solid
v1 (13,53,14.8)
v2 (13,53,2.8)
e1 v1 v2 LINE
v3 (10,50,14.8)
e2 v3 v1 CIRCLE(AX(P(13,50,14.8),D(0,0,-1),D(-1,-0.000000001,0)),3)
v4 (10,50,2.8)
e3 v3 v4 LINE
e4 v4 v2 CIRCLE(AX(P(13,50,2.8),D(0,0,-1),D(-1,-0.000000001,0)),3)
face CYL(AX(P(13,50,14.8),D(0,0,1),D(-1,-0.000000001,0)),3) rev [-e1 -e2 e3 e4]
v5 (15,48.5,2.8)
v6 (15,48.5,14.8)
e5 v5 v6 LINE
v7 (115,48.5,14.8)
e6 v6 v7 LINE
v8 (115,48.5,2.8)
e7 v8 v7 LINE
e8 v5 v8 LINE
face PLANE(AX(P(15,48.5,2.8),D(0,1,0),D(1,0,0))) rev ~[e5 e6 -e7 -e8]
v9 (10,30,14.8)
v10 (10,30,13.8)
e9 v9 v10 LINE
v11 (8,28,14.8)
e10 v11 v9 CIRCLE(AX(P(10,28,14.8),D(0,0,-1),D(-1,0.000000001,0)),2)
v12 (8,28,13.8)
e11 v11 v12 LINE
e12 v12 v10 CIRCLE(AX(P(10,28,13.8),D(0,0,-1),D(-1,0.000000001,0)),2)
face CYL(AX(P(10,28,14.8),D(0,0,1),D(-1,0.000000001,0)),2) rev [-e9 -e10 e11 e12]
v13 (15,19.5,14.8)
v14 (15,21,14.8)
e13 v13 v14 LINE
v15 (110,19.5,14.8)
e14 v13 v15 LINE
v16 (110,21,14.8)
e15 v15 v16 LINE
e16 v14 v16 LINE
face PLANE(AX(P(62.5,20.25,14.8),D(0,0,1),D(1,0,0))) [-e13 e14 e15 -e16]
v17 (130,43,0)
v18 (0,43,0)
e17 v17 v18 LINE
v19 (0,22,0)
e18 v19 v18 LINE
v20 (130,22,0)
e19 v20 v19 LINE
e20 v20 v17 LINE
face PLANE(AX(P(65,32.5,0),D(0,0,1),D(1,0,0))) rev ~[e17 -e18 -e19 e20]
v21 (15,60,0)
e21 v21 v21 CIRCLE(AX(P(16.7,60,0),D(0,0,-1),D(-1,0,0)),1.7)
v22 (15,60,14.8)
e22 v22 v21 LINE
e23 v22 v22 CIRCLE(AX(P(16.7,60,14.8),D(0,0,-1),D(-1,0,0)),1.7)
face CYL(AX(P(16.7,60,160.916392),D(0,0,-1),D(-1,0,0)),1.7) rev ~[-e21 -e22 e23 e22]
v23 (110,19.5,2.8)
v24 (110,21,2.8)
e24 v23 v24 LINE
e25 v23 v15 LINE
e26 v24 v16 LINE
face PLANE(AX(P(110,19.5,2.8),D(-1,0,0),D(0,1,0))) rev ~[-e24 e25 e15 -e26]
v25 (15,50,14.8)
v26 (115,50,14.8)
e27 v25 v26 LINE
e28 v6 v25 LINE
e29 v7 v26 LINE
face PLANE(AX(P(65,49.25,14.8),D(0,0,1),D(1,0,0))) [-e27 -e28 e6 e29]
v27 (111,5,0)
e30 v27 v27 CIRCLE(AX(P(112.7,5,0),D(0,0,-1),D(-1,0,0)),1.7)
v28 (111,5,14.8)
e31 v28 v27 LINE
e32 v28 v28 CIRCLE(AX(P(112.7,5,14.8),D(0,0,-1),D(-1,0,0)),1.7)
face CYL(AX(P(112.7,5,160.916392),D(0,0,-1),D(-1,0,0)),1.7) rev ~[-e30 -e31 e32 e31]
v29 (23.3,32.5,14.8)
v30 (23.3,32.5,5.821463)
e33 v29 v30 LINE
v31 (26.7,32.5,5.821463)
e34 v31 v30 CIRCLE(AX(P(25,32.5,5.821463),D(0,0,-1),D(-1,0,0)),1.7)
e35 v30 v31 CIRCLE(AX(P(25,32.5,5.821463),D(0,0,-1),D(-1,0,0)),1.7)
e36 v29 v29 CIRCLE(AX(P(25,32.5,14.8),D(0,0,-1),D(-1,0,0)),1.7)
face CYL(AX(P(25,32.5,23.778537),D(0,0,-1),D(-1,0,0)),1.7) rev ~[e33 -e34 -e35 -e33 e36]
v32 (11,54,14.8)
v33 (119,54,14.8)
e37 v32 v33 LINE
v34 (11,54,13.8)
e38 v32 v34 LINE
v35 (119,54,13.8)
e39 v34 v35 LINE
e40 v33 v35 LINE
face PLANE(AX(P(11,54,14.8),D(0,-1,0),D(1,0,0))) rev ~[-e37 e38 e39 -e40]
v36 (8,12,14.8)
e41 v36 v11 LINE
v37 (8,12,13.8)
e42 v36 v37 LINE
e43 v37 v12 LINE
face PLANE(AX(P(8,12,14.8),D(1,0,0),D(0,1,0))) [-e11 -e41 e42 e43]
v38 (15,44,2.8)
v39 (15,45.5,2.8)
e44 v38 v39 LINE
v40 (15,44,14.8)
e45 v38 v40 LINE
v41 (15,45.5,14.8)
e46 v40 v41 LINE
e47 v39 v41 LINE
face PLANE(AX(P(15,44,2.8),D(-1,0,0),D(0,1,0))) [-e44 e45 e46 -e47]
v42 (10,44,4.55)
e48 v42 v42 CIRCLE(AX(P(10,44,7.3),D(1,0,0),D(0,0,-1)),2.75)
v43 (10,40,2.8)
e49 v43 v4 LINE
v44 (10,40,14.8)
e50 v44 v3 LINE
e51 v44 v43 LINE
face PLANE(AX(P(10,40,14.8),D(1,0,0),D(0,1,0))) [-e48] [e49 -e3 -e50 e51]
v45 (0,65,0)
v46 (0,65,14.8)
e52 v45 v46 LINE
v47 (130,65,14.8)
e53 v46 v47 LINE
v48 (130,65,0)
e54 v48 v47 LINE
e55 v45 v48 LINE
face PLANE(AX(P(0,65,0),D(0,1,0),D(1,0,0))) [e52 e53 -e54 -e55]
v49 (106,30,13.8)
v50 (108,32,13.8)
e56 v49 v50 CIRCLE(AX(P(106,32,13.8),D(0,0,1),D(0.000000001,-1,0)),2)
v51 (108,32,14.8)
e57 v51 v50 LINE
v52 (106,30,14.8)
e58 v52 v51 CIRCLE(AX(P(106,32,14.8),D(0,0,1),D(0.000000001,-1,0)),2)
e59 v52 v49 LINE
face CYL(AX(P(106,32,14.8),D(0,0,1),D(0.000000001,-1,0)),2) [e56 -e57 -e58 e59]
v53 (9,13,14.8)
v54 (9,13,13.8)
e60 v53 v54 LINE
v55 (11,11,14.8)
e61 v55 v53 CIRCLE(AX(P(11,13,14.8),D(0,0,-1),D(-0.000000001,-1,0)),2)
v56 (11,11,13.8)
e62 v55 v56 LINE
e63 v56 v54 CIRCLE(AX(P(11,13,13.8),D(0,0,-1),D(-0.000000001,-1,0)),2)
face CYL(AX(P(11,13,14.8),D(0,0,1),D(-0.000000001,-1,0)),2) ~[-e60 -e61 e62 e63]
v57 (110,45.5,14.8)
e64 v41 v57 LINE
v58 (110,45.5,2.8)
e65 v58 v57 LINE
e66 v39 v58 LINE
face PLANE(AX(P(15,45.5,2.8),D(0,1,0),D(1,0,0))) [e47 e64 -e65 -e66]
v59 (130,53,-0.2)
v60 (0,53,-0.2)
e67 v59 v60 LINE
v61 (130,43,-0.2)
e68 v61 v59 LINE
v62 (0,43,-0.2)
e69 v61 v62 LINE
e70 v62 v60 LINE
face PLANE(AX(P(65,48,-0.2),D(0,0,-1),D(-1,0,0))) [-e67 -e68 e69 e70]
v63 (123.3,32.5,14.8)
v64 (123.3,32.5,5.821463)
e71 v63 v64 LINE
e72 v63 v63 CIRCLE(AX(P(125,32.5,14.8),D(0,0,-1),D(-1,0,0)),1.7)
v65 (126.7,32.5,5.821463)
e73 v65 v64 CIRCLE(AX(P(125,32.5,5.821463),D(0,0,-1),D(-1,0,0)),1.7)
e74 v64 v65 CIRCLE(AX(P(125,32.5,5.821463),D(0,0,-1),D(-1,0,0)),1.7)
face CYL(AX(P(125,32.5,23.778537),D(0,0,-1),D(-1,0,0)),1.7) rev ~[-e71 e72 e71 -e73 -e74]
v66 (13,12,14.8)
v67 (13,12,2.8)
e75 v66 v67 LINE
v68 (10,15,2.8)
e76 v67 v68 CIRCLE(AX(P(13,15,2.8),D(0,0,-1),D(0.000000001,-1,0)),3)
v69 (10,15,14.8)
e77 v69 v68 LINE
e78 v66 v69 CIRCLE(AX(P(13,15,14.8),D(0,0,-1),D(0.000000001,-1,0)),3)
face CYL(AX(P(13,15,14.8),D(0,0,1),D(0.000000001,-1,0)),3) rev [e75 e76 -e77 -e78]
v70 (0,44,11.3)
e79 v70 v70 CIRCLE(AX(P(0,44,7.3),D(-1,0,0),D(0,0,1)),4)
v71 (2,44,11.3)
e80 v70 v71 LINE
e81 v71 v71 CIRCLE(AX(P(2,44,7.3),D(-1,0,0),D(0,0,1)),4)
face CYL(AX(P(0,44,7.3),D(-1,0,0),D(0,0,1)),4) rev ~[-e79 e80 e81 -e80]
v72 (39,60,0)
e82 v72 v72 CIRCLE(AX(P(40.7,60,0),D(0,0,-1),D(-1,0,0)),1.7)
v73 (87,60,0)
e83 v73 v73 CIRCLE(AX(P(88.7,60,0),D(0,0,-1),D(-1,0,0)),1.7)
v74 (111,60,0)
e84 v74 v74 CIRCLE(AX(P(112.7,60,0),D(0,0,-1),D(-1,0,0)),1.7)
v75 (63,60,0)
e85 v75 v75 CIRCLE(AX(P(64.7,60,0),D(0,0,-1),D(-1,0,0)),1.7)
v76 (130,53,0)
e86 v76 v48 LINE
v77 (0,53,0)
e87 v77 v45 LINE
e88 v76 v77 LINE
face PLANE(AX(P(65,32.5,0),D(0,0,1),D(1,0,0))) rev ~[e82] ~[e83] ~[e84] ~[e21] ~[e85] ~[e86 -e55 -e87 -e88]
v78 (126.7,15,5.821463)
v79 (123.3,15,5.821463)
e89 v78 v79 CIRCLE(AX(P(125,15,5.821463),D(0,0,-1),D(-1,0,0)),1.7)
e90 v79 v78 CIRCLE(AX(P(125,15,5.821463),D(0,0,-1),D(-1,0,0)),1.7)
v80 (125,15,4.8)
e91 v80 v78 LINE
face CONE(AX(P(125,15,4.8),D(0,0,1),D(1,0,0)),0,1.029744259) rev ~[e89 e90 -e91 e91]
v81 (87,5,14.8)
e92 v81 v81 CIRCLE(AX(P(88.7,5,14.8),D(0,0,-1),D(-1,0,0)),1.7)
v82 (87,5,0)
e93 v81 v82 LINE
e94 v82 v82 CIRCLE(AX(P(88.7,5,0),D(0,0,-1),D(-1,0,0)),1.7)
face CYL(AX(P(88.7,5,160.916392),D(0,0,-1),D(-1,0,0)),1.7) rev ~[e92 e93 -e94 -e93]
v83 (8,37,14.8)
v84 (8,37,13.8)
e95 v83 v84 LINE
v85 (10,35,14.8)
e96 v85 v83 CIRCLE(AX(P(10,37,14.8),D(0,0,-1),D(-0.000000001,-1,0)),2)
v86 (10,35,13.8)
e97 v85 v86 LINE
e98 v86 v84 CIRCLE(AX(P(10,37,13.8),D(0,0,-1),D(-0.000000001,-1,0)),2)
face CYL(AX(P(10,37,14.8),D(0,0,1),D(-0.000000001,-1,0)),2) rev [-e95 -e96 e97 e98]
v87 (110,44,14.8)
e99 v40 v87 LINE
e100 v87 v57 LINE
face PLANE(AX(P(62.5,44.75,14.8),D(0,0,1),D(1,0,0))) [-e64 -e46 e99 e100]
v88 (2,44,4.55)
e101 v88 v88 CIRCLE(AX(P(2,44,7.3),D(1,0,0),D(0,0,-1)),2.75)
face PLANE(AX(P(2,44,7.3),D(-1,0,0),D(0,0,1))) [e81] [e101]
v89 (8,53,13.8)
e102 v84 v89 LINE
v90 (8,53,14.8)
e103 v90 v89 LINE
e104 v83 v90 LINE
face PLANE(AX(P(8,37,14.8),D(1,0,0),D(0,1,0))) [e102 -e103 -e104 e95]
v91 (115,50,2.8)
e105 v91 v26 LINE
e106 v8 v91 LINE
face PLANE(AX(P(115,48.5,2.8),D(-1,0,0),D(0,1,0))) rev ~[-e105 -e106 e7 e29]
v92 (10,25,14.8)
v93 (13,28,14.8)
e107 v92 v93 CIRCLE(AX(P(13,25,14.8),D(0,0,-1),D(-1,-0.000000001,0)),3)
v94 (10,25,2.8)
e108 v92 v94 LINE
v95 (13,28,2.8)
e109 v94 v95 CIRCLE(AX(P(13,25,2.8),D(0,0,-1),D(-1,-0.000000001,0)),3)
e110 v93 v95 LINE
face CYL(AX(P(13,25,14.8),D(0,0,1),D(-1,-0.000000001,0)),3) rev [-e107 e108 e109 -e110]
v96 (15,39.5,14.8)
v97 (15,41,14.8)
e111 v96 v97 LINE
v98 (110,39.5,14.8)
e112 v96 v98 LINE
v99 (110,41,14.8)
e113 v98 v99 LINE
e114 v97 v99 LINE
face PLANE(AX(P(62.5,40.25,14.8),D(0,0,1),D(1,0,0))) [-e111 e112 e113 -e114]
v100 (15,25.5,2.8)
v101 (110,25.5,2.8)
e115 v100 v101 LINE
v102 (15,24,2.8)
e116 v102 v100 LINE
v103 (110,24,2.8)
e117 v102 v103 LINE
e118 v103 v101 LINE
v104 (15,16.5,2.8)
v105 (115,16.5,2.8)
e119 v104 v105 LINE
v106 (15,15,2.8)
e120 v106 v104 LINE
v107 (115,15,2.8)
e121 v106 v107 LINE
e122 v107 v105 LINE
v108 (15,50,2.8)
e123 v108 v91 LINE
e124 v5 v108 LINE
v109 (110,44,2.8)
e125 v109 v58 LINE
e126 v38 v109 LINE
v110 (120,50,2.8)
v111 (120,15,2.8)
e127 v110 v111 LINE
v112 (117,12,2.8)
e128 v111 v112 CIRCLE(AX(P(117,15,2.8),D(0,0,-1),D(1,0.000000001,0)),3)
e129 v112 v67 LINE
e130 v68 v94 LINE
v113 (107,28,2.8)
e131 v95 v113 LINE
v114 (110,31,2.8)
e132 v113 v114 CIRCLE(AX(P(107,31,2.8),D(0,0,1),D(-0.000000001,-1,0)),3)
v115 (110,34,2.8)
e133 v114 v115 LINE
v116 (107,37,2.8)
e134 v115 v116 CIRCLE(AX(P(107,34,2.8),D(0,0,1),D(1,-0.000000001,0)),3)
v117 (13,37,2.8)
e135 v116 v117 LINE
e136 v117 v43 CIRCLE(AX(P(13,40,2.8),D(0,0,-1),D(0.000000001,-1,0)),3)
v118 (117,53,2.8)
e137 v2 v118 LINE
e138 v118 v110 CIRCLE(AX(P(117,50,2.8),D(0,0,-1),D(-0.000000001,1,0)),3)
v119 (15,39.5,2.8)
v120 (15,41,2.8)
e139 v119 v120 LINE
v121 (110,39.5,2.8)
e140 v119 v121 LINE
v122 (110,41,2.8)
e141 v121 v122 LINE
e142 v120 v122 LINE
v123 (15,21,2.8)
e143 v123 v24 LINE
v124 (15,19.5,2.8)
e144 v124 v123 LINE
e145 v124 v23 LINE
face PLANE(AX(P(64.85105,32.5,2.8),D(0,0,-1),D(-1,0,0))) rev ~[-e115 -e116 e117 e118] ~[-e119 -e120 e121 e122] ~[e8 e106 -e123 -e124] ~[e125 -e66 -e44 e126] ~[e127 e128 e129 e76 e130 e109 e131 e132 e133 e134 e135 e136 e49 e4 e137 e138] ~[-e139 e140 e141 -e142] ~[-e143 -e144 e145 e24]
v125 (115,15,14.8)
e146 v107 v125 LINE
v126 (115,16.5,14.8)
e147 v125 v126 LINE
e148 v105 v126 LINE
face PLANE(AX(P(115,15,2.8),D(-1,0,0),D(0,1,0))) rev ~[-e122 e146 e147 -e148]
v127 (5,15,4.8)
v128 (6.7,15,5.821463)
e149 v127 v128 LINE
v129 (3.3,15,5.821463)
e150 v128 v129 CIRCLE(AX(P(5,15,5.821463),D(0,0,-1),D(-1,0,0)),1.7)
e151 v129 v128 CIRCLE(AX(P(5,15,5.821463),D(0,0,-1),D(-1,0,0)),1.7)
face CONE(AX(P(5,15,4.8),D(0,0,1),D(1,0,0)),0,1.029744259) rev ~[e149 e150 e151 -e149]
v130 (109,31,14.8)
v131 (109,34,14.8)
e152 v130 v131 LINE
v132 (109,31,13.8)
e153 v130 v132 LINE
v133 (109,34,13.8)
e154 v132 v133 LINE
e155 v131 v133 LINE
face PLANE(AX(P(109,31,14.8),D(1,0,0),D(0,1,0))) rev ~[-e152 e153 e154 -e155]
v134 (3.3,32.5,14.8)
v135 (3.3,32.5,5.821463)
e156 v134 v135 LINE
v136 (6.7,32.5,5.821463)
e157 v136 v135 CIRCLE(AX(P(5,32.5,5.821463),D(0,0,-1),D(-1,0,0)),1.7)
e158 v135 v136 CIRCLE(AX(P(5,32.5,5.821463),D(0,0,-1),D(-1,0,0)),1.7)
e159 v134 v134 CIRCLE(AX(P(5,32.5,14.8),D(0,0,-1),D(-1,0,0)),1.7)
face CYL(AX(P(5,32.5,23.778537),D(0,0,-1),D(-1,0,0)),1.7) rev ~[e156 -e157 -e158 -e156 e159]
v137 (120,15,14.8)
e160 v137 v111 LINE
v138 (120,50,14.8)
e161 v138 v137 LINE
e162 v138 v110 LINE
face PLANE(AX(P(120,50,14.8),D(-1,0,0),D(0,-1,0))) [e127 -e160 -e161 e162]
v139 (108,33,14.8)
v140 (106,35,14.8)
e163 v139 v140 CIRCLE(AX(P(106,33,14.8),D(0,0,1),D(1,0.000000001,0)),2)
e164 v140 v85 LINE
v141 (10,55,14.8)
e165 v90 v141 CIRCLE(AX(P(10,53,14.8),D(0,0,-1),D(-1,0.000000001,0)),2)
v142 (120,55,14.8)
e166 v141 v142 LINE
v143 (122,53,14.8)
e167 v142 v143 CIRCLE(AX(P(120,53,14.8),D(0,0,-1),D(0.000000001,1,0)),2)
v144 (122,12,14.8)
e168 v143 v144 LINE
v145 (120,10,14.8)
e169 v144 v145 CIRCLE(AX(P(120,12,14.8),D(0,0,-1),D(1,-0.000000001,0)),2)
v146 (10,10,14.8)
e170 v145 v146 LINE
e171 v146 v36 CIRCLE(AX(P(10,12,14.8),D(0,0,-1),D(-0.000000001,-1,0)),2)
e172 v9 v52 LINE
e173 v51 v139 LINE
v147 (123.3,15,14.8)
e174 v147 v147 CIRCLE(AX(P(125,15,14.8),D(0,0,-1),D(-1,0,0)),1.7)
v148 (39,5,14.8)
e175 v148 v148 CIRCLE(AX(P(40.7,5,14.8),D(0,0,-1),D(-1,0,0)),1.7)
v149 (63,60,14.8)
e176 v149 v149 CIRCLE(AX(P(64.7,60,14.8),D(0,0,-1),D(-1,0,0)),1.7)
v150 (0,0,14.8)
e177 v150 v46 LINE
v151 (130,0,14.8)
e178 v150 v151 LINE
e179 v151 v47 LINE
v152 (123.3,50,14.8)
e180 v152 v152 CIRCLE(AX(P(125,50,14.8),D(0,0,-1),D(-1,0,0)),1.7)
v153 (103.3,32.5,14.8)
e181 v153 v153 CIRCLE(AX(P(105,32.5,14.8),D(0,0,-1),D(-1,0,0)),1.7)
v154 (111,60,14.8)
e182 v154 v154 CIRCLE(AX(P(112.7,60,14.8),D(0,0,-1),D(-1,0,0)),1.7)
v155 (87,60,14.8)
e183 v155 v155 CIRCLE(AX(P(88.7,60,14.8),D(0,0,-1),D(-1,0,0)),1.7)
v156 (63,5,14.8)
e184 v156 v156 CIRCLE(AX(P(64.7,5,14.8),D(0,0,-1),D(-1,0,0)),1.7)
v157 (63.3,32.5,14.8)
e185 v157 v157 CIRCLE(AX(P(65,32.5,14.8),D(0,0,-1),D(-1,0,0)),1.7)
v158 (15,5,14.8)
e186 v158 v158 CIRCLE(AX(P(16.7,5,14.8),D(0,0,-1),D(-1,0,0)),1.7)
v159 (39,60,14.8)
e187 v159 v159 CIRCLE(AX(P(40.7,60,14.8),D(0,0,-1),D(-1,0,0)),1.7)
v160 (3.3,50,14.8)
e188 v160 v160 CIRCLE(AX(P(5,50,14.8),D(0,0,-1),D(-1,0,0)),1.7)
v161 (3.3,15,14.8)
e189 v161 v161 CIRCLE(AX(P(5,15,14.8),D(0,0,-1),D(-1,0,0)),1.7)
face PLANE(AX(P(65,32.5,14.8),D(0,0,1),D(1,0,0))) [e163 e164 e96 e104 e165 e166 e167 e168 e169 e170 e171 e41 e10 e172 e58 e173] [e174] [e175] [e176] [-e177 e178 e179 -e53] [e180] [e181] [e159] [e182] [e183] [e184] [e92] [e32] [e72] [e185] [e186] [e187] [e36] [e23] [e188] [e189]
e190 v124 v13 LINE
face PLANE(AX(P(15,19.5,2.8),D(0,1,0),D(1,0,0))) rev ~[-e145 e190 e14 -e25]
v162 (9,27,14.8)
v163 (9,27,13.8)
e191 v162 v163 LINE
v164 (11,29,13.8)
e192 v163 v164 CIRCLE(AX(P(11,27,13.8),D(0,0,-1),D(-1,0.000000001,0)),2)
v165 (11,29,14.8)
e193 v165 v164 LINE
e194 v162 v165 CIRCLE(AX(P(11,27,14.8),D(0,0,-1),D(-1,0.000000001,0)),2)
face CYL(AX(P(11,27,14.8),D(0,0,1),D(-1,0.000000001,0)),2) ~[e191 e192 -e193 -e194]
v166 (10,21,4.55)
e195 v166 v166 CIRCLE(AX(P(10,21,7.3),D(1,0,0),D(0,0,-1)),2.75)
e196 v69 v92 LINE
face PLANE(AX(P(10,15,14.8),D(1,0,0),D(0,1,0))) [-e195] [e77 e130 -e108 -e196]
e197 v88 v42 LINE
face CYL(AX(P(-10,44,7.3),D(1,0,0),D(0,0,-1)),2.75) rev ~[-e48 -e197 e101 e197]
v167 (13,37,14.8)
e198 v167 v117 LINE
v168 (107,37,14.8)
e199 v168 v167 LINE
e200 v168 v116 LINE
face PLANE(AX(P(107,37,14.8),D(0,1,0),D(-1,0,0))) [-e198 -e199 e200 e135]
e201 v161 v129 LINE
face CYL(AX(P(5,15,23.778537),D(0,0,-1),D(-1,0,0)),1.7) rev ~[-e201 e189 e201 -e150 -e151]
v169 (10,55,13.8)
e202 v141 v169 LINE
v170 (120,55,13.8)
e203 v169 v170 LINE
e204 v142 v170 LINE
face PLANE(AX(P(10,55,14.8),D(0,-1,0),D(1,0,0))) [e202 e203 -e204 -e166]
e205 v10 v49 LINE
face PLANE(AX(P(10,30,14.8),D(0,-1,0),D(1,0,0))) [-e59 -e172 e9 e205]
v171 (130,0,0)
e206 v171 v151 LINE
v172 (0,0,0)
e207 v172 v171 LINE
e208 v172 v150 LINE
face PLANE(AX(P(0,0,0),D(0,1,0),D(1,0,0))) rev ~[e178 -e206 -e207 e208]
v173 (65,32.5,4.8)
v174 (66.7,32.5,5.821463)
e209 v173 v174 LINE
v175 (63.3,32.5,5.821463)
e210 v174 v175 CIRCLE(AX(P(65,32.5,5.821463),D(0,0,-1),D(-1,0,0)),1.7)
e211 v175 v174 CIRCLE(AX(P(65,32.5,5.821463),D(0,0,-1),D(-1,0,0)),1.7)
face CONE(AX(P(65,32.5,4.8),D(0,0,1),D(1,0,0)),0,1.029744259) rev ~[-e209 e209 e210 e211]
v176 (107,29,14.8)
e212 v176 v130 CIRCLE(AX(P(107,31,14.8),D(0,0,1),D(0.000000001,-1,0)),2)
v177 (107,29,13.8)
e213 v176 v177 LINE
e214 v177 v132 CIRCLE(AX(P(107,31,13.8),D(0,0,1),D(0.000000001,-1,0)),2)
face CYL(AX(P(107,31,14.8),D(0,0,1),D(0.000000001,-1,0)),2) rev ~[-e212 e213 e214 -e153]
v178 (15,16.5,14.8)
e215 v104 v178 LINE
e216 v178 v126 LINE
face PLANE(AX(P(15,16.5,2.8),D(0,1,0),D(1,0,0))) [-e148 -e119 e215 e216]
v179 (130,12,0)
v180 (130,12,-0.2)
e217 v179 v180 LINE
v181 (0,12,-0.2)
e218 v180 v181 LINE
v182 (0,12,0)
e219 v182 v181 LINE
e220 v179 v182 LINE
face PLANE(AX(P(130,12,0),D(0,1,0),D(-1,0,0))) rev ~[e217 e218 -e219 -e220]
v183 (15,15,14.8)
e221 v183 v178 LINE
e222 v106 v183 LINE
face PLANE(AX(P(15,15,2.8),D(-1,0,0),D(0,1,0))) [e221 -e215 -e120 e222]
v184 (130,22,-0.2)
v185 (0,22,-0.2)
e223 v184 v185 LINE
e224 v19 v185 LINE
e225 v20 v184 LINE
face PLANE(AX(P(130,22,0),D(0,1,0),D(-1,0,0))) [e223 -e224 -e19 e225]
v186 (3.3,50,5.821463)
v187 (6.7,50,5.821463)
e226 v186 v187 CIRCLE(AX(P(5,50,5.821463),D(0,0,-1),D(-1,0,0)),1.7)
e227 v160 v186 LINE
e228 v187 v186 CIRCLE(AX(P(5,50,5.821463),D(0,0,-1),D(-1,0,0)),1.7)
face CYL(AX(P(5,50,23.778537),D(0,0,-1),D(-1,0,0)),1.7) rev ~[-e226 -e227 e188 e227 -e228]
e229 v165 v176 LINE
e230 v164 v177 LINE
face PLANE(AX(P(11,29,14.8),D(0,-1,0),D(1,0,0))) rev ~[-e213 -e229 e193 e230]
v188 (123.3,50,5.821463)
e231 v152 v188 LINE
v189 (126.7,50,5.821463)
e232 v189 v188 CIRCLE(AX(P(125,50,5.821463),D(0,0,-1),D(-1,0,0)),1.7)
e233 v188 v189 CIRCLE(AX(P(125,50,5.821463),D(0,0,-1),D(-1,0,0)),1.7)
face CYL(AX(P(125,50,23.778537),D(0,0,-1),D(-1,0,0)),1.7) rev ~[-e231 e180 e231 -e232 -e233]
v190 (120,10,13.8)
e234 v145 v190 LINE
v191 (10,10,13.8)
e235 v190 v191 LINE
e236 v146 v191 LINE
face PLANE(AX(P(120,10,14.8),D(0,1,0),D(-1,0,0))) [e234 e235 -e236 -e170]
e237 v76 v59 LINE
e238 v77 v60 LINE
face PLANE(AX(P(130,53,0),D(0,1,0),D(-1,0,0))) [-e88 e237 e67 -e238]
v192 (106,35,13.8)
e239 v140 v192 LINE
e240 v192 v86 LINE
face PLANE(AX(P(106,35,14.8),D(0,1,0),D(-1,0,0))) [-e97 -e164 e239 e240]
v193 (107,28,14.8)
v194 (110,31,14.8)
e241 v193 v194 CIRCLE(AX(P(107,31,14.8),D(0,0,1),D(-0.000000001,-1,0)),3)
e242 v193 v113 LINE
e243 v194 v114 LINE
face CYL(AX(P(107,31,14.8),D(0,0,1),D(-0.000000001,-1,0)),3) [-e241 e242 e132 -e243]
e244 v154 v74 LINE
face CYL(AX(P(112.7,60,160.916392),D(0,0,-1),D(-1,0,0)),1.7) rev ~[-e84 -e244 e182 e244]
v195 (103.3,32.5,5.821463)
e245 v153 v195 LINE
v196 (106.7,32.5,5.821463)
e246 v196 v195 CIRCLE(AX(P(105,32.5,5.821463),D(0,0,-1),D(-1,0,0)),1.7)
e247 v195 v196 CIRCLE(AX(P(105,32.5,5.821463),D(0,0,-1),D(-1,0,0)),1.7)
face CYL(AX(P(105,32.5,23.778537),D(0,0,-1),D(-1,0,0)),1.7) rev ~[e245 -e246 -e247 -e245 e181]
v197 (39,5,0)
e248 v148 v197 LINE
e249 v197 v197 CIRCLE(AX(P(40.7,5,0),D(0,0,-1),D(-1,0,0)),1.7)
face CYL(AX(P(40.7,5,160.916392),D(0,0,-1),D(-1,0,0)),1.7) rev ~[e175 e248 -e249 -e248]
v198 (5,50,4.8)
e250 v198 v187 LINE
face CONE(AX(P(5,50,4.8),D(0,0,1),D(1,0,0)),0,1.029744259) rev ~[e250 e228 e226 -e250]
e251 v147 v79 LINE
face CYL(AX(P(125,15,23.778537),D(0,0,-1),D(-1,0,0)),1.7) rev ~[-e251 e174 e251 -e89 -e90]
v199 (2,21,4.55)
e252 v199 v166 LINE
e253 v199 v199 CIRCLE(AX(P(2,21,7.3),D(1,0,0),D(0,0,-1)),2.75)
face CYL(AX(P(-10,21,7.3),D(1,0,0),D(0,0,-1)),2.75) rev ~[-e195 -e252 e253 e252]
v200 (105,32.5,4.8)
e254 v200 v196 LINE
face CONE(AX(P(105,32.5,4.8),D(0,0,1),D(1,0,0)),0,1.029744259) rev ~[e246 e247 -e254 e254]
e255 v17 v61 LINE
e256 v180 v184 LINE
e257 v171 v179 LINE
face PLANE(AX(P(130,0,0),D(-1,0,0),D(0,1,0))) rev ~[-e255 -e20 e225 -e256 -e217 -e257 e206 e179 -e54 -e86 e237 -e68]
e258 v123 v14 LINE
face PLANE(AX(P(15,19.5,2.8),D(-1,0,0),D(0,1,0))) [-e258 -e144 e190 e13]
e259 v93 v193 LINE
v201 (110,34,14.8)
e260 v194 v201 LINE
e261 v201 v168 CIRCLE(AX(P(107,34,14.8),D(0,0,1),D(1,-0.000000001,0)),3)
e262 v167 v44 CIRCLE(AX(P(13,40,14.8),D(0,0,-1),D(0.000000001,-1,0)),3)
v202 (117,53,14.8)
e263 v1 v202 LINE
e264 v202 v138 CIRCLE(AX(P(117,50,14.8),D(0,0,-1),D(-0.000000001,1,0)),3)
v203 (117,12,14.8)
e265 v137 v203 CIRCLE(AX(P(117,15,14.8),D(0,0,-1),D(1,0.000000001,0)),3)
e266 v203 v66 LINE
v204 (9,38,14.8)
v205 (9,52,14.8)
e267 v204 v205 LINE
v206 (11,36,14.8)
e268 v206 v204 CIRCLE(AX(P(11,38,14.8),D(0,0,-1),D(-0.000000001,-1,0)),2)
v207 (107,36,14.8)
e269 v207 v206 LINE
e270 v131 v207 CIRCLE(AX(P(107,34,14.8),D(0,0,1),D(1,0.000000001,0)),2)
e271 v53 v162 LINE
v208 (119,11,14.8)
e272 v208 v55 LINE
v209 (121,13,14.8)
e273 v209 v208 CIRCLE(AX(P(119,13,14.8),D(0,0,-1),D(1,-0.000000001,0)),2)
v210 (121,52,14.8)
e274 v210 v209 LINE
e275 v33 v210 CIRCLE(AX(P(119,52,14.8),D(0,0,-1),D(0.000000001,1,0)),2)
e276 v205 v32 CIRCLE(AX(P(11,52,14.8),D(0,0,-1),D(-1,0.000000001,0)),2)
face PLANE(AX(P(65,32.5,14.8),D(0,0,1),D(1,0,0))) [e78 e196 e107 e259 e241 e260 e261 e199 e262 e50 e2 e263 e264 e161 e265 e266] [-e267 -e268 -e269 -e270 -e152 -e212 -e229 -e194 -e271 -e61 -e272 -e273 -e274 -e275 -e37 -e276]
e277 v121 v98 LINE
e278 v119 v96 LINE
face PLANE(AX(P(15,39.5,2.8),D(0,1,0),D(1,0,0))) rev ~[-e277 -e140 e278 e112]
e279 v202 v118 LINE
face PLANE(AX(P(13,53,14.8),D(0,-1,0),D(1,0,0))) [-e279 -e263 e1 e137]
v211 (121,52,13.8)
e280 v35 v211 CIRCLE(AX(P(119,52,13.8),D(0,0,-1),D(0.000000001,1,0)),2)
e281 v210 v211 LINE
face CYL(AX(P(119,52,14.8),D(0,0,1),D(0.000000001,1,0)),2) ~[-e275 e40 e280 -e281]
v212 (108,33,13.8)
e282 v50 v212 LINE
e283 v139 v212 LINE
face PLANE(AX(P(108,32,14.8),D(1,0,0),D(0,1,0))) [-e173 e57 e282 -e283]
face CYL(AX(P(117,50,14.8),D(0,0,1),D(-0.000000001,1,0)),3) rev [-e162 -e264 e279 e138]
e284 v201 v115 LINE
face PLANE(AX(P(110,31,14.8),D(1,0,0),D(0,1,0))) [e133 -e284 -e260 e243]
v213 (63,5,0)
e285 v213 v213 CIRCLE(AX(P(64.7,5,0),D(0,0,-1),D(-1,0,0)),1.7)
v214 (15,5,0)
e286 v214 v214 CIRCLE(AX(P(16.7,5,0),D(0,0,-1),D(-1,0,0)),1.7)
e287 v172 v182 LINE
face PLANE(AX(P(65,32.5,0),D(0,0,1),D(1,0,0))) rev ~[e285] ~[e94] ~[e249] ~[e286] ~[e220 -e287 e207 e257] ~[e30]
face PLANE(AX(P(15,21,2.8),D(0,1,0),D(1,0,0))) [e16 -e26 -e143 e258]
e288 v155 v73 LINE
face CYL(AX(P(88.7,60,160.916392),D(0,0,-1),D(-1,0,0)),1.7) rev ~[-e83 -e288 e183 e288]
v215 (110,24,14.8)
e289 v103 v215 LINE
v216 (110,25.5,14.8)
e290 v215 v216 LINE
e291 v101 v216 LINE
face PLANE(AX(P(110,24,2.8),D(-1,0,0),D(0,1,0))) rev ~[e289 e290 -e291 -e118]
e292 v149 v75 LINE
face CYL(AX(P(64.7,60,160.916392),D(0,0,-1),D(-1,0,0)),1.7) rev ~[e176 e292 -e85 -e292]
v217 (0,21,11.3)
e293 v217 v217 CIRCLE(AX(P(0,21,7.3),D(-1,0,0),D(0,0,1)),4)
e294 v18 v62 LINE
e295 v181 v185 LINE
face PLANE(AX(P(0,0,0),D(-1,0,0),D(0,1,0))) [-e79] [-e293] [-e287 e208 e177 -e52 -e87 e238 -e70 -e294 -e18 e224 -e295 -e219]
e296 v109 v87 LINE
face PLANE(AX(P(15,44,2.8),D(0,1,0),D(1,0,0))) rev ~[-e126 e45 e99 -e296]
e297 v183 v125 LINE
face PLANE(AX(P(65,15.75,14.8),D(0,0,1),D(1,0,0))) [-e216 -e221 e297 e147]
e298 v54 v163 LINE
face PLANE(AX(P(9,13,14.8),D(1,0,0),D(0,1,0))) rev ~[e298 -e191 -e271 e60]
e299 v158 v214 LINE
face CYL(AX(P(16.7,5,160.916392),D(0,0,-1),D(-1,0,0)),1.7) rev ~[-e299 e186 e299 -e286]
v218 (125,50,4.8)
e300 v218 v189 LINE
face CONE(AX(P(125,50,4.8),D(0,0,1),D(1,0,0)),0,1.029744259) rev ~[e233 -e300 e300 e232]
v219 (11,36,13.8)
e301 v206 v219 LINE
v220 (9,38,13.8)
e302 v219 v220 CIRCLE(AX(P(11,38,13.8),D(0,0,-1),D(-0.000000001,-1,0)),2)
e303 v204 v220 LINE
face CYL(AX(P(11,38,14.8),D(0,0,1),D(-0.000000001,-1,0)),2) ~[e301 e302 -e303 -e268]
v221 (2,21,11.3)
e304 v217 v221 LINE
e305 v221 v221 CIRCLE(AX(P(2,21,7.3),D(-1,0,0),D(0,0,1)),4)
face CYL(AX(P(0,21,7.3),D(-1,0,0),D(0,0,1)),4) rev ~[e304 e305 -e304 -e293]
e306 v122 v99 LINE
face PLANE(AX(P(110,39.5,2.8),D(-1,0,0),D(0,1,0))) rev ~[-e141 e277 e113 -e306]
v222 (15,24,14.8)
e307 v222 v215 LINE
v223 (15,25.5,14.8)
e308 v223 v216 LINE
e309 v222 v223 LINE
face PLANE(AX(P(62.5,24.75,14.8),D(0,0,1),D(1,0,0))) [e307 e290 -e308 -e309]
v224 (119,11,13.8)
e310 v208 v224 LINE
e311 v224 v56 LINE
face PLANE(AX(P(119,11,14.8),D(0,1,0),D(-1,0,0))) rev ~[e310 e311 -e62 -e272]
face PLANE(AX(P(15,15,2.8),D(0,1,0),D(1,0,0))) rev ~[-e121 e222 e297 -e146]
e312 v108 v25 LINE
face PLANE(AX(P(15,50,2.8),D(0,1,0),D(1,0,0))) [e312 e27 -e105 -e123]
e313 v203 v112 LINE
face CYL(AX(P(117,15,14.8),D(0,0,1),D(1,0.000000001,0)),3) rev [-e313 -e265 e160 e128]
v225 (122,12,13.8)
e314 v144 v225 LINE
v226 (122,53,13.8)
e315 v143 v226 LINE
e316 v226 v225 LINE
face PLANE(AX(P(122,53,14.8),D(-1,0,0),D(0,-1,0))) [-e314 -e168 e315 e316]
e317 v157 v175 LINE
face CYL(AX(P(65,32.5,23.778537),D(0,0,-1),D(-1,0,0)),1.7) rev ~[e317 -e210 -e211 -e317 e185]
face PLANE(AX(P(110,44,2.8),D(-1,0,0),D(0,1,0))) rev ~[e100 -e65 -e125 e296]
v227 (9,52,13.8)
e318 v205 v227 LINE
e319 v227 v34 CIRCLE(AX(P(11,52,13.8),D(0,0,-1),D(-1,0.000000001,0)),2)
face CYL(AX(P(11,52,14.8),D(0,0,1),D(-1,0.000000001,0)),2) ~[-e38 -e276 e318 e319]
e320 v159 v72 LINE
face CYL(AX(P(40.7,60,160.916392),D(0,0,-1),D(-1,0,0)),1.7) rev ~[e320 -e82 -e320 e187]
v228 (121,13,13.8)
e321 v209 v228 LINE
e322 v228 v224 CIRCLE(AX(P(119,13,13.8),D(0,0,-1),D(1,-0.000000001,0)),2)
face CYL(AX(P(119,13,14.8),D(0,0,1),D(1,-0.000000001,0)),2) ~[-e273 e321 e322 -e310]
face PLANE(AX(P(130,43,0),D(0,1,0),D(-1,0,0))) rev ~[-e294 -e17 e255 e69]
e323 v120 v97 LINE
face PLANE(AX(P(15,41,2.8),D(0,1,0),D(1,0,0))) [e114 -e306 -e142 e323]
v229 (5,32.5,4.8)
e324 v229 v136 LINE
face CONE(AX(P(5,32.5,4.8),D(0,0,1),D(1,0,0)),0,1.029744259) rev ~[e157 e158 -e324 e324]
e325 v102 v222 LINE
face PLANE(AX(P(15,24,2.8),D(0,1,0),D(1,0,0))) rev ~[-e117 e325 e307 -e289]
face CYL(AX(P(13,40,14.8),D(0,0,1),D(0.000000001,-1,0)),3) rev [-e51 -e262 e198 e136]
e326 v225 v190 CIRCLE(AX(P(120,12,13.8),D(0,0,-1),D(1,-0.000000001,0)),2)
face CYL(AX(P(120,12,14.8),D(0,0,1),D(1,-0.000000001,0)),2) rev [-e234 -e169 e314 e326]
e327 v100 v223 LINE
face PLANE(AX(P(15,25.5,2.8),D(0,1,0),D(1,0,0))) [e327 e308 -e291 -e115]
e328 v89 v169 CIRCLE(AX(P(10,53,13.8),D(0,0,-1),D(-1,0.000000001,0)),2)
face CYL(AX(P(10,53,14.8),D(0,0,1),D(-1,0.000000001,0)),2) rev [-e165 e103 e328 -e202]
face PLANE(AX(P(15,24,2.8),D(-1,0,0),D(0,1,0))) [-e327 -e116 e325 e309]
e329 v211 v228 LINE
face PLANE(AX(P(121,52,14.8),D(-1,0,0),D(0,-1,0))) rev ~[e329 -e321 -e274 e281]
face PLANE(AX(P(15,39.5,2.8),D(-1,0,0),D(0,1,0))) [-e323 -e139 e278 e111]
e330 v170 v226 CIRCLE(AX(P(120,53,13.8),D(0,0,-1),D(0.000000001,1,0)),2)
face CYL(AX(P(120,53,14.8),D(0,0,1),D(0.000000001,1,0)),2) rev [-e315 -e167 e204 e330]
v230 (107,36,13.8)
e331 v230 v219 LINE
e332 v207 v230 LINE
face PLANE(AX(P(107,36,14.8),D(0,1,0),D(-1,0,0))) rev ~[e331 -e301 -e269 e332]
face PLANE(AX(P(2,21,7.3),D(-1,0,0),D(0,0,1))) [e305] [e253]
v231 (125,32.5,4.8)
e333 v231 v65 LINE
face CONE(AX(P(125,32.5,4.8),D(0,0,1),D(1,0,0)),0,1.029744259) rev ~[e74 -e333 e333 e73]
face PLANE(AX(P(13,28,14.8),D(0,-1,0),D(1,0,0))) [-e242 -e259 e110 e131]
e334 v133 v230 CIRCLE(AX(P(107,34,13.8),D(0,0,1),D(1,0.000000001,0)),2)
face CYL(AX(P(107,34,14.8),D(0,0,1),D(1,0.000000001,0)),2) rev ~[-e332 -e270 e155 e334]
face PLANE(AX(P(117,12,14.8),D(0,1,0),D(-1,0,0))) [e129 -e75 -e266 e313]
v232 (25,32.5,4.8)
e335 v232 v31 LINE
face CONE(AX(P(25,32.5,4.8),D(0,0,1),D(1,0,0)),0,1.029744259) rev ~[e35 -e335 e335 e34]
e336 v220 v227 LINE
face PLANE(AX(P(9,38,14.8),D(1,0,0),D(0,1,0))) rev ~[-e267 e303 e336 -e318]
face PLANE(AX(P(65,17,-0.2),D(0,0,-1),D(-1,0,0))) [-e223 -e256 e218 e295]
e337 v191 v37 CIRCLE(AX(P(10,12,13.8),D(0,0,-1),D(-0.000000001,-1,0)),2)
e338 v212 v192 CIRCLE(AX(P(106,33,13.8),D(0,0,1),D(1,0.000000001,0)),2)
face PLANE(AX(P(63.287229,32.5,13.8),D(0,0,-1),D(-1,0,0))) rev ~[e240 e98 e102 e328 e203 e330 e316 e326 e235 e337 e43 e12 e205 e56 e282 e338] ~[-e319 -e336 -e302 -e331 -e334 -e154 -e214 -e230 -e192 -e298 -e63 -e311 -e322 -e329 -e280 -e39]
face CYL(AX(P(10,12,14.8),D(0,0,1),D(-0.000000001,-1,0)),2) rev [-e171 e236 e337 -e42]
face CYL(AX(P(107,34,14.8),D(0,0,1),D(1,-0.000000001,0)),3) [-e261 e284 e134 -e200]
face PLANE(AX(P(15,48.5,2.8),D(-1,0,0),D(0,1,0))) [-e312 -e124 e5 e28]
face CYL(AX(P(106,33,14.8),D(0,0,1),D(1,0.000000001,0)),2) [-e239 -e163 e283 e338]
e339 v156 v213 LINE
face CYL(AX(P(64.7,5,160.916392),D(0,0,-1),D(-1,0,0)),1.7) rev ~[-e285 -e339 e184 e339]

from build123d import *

# Parameters (mm, degrees)
ESQUISSE1_W             = 130
ESQUISSE1_H             = 65
BOSS_EXTRU_1_DEPTH      = 14.8
ESQUISSE13_W            = 130
ESQUISSE13_H            = 10
BOSS_EXTRU_3_DEPTH      = 0.2
D_GAGEMENT_M31_D        = 3.4
ENL_V_MAT_EXTRU_6_DEPTH = 12
D_GAGEMENT_M51_D        = 5.5
D_GAGEMENT_M51_DEPTH    = 10
ESQUISSE10_R            = 4
ENL_V_MAT_EXTRU_7_DEPTH = 2
ENL_V_MAT_EXTRU_9_DEPTH = 1
ESQUISSE12_W            = 100
ESQUISSE12_H            = 1.5
ESQUISSE12_W_2          = 95
BOSS_EXTRU_2_DEPTH      = 12
D_GAGEMENT_M32_D        = 3.4
D_GAGEMENT_M32_DEPTH    = 8.978536948
D_GAGEMENT_M32_TIP      = 1.021463052


with BuildPart() as part:
    # Esquisse1 → Boss.-Extru.1 (new body)
    with BuildSketch(Plane.XY):
        with Locations((65, 32.5)):
            Rectangle(ESQUISSE1_W, ESQUISSE1_H)
    extrude(amount=BOSS_EXTRU_1_DEPTH)

    # Esquisse13 → Boss.-Extru.3 (add)
    with BuildSketch(Plane(origin=(0, 0, 0), x_dir=(-1, 0, 0), z_dir=(0, 0, -1))):
        with Locations((-65, 48)):
            Rectangle(ESQUISSE13_W, ESQUISSE13_H)
        with Locations((-65, 17)):
            Rectangle(ESQUISSE13_W, ESQUISSE13_H)
    extrude(amount=BOSS_EXTRU_3_DEPTH)

    # Dégagement M31 (through all)
    with Locations(Plane.XY.offset(14.8)):
        with Locations((16.7, 60), (40.7, 60), (64.7, 60), (88.7, 60), (112.7, 60), (112.7, 5), (88.7, 5), (64.7, 5), (40.7, 5), (16.7, 5)):
            Hole(D_GAGEMENT_M31_D / 2)

    # Esquisse6 → Enlèv. mat.-Extru.6 (cut)
    with BuildSketch(Plane.XY.offset(14.8)):
        with BuildLine():
            Line((13, 53), (117, 53))
            ThreePointArc((117, 53), (119.121320344, 52.121320344), (120, 50))
            Line((120, 50), (120, 15))
            ThreePointArc((120, 15), (119.121320344, 12.878679656), (117, 12))
            Line((117, 12), (13, 12))
            ThreePointArc((13, 12), (10.878679656, 12.878679656), (10, 15))
            Line((10, 15), (10, 25))
            ThreePointArc((10, 25), (10.878679656, 27.121320344), (13, 28))
            Line((13, 28), (107, 28))
            ThreePointArc((107, 28), (109.121320344, 28.878679656), (110, 31))
            Line((110, 31), (110, 34))
            ThreePointArc((110, 34), (109.121320344, 36.121320344), (107, 37))
            Line((107, 37), (13, 37))
            ThreePointArc((13, 37), (10.878679656, 37.878679656), (10, 40))
            Line((10, 40), (10, 50))
            ThreePointArc((10, 50), (10.878679656, 52.121320344), (13, 53))
        make_face()
    extrude(amount=-ENL_V_MAT_EXTRU_6_DEPTH, mode=Mode.SUBTRACT)

    # Dégagement M51
    with Locations(Plane.ZY):
        with Locations((7.3, 44), (7.3, 21)):
            Hole(D_GAGEMENT_M51_D / 2, depth=D_GAGEMENT_M51_DEPTH)

    # Esquisse10 → Enlèv. mat.-Extru.7 (cut)
    with BuildSketch(Plane.ZY):
        with Locations((7.3, 21)):
            Circle(ESQUISSE10_R)
        with Locations((7.3, 44)):
            Circle(ESQUISSE10_R)
    extrude(amount=-ENL_V_MAT_EXTRU_7_DEPTH, mode=Mode.SUBTRACT)

    # Esquisse11 → Enlèv. mat.-Extru.9 (cut)
    with BuildSketch(Plane.XY.offset(14.8)):
        with BuildLine():
            Line((120, 10), (10, 10))
            ThreePointArc((10, 10), (8.585786438, 10.585786438), (8, 12))
            Line((8, 12), (8, 28))
            ThreePointArc((8, 28), (8.585786438, 29.414213562), (10, 30))
            Line((10, 30), (106, 30))
            ThreePointArc((106, 30), (107.414213562, 30.585786438), (108, 32))
            Line((108, 32), (108, 33))
            ThreePointArc((108, 33), (107.414213562, 34.414213562), (106, 35))
            Line((106, 35), (10, 35))
            ThreePointArc((10, 35), (8.585786438, 35.585786438), (8, 37))
            Line((8, 37), (8, 53))
            ThreePointArc((8, 53), (8.585786438, 54.414213562), (10, 55))
            Line((10, 55), (120, 55))
            ThreePointArc((120, 55), (121.414213562, 54.414213562), (122, 53))
            Line((122, 53), (122, 12))
            ThreePointArc((122, 12), (121.414213562, 10.585786438), (120, 10))
        make_face()
        with BuildLine():
            Line((11, 54), (119, 54))
            ThreePointArc((119, 54), (120.414213562, 53.414213562), (121, 52))
            Line((121, 52), (121, 13))
            ThreePointArc((121, 13), (120.414213562, 11.585786438), (119, 11))
            Line((119, 11), (11, 11))
            ThreePointArc((11, 11), (9.585786438, 11.585786438), (9, 13))
            Line((9, 13), (9, 27))
            ThreePointArc((9, 27), (9.585786438, 28.414213562), (11, 29))
            Line((11, 29), (107, 29))
            ThreePointArc((107, 29), (108.414213562, 29.585786438), (109, 31))
            Line((109, 31), (109, 34))
            ThreePointArc((109, 34), (108.414213562, 35.414213562), (107, 36))
            Line((107, 36), (11, 36))
            ThreePointArc((11, 36), (9.585786438, 36.585786438), (9, 38))
            Line((9, 38), (9, 52))
            ThreePointArc((9, 52), (9.585786438, 53.414213562), (11, 54))
        make_face(mode=Mode.SUBTRACT)
    extrude(amount=-ENL_V_MAT_EXTRU_9_DEPTH, mode=Mode.SUBTRACT)

    # Esquisse12 → Boss.-Extru.2 (add)
    with BuildSketch(Plane.XY.offset(2.8)):
        with Locations((65, 15.75)):
            Rectangle(ESQUISSE12_W, ESQUISSE12_H)
        with Locations((62.5, 20.25)):
            Rectangle(ESQUISSE12_W_2, ESQUISSE12_H)
        with Locations((62.5, 24.75)):
            Rectangle(ESQUISSE12_W_2, ESQUISSE12_H)
        with Locations((62.5, 40.25)):
            Rectangle(ESQUISSE12_W_2, ESQUISSE12_H)
        with Locations((62.5, 44.75)):
            Rectangle(ESQUISSE12_W_2, ESQUISSE12_H)
        with Locations((65, 49.25)):
            Rectangle(ESQUISSE12_W, ESQUISSE12_H)
    extrude(amount=BOSS_EXTRU_2_DEPTH)

    # Dégagement M32
    with Locations(Plane.XY.offset(14.8)):
        with Locations((5, 50), (5, 15), (25, 32.5), (65, 32.5), (105, 32.5), (125, 15), (125, 50), (5, 32.5), (125, 32.5)):
            Hole(D_GAGEMENT_M32_D / 2, depth=D_GAGEMENT_M32_DEPTH)
            with Locations((0, 0, -(D_GAGEMENT_M32_DEPTH + D_GAGEMENT_M32_TIP / 2))):  # 118° drill point
                Cone(0, D_GAGEMENT_M32_D / 2, D_GAGEMENT_M32_TIP, mode=Mode.SUBTRACT)


solid = part.part
